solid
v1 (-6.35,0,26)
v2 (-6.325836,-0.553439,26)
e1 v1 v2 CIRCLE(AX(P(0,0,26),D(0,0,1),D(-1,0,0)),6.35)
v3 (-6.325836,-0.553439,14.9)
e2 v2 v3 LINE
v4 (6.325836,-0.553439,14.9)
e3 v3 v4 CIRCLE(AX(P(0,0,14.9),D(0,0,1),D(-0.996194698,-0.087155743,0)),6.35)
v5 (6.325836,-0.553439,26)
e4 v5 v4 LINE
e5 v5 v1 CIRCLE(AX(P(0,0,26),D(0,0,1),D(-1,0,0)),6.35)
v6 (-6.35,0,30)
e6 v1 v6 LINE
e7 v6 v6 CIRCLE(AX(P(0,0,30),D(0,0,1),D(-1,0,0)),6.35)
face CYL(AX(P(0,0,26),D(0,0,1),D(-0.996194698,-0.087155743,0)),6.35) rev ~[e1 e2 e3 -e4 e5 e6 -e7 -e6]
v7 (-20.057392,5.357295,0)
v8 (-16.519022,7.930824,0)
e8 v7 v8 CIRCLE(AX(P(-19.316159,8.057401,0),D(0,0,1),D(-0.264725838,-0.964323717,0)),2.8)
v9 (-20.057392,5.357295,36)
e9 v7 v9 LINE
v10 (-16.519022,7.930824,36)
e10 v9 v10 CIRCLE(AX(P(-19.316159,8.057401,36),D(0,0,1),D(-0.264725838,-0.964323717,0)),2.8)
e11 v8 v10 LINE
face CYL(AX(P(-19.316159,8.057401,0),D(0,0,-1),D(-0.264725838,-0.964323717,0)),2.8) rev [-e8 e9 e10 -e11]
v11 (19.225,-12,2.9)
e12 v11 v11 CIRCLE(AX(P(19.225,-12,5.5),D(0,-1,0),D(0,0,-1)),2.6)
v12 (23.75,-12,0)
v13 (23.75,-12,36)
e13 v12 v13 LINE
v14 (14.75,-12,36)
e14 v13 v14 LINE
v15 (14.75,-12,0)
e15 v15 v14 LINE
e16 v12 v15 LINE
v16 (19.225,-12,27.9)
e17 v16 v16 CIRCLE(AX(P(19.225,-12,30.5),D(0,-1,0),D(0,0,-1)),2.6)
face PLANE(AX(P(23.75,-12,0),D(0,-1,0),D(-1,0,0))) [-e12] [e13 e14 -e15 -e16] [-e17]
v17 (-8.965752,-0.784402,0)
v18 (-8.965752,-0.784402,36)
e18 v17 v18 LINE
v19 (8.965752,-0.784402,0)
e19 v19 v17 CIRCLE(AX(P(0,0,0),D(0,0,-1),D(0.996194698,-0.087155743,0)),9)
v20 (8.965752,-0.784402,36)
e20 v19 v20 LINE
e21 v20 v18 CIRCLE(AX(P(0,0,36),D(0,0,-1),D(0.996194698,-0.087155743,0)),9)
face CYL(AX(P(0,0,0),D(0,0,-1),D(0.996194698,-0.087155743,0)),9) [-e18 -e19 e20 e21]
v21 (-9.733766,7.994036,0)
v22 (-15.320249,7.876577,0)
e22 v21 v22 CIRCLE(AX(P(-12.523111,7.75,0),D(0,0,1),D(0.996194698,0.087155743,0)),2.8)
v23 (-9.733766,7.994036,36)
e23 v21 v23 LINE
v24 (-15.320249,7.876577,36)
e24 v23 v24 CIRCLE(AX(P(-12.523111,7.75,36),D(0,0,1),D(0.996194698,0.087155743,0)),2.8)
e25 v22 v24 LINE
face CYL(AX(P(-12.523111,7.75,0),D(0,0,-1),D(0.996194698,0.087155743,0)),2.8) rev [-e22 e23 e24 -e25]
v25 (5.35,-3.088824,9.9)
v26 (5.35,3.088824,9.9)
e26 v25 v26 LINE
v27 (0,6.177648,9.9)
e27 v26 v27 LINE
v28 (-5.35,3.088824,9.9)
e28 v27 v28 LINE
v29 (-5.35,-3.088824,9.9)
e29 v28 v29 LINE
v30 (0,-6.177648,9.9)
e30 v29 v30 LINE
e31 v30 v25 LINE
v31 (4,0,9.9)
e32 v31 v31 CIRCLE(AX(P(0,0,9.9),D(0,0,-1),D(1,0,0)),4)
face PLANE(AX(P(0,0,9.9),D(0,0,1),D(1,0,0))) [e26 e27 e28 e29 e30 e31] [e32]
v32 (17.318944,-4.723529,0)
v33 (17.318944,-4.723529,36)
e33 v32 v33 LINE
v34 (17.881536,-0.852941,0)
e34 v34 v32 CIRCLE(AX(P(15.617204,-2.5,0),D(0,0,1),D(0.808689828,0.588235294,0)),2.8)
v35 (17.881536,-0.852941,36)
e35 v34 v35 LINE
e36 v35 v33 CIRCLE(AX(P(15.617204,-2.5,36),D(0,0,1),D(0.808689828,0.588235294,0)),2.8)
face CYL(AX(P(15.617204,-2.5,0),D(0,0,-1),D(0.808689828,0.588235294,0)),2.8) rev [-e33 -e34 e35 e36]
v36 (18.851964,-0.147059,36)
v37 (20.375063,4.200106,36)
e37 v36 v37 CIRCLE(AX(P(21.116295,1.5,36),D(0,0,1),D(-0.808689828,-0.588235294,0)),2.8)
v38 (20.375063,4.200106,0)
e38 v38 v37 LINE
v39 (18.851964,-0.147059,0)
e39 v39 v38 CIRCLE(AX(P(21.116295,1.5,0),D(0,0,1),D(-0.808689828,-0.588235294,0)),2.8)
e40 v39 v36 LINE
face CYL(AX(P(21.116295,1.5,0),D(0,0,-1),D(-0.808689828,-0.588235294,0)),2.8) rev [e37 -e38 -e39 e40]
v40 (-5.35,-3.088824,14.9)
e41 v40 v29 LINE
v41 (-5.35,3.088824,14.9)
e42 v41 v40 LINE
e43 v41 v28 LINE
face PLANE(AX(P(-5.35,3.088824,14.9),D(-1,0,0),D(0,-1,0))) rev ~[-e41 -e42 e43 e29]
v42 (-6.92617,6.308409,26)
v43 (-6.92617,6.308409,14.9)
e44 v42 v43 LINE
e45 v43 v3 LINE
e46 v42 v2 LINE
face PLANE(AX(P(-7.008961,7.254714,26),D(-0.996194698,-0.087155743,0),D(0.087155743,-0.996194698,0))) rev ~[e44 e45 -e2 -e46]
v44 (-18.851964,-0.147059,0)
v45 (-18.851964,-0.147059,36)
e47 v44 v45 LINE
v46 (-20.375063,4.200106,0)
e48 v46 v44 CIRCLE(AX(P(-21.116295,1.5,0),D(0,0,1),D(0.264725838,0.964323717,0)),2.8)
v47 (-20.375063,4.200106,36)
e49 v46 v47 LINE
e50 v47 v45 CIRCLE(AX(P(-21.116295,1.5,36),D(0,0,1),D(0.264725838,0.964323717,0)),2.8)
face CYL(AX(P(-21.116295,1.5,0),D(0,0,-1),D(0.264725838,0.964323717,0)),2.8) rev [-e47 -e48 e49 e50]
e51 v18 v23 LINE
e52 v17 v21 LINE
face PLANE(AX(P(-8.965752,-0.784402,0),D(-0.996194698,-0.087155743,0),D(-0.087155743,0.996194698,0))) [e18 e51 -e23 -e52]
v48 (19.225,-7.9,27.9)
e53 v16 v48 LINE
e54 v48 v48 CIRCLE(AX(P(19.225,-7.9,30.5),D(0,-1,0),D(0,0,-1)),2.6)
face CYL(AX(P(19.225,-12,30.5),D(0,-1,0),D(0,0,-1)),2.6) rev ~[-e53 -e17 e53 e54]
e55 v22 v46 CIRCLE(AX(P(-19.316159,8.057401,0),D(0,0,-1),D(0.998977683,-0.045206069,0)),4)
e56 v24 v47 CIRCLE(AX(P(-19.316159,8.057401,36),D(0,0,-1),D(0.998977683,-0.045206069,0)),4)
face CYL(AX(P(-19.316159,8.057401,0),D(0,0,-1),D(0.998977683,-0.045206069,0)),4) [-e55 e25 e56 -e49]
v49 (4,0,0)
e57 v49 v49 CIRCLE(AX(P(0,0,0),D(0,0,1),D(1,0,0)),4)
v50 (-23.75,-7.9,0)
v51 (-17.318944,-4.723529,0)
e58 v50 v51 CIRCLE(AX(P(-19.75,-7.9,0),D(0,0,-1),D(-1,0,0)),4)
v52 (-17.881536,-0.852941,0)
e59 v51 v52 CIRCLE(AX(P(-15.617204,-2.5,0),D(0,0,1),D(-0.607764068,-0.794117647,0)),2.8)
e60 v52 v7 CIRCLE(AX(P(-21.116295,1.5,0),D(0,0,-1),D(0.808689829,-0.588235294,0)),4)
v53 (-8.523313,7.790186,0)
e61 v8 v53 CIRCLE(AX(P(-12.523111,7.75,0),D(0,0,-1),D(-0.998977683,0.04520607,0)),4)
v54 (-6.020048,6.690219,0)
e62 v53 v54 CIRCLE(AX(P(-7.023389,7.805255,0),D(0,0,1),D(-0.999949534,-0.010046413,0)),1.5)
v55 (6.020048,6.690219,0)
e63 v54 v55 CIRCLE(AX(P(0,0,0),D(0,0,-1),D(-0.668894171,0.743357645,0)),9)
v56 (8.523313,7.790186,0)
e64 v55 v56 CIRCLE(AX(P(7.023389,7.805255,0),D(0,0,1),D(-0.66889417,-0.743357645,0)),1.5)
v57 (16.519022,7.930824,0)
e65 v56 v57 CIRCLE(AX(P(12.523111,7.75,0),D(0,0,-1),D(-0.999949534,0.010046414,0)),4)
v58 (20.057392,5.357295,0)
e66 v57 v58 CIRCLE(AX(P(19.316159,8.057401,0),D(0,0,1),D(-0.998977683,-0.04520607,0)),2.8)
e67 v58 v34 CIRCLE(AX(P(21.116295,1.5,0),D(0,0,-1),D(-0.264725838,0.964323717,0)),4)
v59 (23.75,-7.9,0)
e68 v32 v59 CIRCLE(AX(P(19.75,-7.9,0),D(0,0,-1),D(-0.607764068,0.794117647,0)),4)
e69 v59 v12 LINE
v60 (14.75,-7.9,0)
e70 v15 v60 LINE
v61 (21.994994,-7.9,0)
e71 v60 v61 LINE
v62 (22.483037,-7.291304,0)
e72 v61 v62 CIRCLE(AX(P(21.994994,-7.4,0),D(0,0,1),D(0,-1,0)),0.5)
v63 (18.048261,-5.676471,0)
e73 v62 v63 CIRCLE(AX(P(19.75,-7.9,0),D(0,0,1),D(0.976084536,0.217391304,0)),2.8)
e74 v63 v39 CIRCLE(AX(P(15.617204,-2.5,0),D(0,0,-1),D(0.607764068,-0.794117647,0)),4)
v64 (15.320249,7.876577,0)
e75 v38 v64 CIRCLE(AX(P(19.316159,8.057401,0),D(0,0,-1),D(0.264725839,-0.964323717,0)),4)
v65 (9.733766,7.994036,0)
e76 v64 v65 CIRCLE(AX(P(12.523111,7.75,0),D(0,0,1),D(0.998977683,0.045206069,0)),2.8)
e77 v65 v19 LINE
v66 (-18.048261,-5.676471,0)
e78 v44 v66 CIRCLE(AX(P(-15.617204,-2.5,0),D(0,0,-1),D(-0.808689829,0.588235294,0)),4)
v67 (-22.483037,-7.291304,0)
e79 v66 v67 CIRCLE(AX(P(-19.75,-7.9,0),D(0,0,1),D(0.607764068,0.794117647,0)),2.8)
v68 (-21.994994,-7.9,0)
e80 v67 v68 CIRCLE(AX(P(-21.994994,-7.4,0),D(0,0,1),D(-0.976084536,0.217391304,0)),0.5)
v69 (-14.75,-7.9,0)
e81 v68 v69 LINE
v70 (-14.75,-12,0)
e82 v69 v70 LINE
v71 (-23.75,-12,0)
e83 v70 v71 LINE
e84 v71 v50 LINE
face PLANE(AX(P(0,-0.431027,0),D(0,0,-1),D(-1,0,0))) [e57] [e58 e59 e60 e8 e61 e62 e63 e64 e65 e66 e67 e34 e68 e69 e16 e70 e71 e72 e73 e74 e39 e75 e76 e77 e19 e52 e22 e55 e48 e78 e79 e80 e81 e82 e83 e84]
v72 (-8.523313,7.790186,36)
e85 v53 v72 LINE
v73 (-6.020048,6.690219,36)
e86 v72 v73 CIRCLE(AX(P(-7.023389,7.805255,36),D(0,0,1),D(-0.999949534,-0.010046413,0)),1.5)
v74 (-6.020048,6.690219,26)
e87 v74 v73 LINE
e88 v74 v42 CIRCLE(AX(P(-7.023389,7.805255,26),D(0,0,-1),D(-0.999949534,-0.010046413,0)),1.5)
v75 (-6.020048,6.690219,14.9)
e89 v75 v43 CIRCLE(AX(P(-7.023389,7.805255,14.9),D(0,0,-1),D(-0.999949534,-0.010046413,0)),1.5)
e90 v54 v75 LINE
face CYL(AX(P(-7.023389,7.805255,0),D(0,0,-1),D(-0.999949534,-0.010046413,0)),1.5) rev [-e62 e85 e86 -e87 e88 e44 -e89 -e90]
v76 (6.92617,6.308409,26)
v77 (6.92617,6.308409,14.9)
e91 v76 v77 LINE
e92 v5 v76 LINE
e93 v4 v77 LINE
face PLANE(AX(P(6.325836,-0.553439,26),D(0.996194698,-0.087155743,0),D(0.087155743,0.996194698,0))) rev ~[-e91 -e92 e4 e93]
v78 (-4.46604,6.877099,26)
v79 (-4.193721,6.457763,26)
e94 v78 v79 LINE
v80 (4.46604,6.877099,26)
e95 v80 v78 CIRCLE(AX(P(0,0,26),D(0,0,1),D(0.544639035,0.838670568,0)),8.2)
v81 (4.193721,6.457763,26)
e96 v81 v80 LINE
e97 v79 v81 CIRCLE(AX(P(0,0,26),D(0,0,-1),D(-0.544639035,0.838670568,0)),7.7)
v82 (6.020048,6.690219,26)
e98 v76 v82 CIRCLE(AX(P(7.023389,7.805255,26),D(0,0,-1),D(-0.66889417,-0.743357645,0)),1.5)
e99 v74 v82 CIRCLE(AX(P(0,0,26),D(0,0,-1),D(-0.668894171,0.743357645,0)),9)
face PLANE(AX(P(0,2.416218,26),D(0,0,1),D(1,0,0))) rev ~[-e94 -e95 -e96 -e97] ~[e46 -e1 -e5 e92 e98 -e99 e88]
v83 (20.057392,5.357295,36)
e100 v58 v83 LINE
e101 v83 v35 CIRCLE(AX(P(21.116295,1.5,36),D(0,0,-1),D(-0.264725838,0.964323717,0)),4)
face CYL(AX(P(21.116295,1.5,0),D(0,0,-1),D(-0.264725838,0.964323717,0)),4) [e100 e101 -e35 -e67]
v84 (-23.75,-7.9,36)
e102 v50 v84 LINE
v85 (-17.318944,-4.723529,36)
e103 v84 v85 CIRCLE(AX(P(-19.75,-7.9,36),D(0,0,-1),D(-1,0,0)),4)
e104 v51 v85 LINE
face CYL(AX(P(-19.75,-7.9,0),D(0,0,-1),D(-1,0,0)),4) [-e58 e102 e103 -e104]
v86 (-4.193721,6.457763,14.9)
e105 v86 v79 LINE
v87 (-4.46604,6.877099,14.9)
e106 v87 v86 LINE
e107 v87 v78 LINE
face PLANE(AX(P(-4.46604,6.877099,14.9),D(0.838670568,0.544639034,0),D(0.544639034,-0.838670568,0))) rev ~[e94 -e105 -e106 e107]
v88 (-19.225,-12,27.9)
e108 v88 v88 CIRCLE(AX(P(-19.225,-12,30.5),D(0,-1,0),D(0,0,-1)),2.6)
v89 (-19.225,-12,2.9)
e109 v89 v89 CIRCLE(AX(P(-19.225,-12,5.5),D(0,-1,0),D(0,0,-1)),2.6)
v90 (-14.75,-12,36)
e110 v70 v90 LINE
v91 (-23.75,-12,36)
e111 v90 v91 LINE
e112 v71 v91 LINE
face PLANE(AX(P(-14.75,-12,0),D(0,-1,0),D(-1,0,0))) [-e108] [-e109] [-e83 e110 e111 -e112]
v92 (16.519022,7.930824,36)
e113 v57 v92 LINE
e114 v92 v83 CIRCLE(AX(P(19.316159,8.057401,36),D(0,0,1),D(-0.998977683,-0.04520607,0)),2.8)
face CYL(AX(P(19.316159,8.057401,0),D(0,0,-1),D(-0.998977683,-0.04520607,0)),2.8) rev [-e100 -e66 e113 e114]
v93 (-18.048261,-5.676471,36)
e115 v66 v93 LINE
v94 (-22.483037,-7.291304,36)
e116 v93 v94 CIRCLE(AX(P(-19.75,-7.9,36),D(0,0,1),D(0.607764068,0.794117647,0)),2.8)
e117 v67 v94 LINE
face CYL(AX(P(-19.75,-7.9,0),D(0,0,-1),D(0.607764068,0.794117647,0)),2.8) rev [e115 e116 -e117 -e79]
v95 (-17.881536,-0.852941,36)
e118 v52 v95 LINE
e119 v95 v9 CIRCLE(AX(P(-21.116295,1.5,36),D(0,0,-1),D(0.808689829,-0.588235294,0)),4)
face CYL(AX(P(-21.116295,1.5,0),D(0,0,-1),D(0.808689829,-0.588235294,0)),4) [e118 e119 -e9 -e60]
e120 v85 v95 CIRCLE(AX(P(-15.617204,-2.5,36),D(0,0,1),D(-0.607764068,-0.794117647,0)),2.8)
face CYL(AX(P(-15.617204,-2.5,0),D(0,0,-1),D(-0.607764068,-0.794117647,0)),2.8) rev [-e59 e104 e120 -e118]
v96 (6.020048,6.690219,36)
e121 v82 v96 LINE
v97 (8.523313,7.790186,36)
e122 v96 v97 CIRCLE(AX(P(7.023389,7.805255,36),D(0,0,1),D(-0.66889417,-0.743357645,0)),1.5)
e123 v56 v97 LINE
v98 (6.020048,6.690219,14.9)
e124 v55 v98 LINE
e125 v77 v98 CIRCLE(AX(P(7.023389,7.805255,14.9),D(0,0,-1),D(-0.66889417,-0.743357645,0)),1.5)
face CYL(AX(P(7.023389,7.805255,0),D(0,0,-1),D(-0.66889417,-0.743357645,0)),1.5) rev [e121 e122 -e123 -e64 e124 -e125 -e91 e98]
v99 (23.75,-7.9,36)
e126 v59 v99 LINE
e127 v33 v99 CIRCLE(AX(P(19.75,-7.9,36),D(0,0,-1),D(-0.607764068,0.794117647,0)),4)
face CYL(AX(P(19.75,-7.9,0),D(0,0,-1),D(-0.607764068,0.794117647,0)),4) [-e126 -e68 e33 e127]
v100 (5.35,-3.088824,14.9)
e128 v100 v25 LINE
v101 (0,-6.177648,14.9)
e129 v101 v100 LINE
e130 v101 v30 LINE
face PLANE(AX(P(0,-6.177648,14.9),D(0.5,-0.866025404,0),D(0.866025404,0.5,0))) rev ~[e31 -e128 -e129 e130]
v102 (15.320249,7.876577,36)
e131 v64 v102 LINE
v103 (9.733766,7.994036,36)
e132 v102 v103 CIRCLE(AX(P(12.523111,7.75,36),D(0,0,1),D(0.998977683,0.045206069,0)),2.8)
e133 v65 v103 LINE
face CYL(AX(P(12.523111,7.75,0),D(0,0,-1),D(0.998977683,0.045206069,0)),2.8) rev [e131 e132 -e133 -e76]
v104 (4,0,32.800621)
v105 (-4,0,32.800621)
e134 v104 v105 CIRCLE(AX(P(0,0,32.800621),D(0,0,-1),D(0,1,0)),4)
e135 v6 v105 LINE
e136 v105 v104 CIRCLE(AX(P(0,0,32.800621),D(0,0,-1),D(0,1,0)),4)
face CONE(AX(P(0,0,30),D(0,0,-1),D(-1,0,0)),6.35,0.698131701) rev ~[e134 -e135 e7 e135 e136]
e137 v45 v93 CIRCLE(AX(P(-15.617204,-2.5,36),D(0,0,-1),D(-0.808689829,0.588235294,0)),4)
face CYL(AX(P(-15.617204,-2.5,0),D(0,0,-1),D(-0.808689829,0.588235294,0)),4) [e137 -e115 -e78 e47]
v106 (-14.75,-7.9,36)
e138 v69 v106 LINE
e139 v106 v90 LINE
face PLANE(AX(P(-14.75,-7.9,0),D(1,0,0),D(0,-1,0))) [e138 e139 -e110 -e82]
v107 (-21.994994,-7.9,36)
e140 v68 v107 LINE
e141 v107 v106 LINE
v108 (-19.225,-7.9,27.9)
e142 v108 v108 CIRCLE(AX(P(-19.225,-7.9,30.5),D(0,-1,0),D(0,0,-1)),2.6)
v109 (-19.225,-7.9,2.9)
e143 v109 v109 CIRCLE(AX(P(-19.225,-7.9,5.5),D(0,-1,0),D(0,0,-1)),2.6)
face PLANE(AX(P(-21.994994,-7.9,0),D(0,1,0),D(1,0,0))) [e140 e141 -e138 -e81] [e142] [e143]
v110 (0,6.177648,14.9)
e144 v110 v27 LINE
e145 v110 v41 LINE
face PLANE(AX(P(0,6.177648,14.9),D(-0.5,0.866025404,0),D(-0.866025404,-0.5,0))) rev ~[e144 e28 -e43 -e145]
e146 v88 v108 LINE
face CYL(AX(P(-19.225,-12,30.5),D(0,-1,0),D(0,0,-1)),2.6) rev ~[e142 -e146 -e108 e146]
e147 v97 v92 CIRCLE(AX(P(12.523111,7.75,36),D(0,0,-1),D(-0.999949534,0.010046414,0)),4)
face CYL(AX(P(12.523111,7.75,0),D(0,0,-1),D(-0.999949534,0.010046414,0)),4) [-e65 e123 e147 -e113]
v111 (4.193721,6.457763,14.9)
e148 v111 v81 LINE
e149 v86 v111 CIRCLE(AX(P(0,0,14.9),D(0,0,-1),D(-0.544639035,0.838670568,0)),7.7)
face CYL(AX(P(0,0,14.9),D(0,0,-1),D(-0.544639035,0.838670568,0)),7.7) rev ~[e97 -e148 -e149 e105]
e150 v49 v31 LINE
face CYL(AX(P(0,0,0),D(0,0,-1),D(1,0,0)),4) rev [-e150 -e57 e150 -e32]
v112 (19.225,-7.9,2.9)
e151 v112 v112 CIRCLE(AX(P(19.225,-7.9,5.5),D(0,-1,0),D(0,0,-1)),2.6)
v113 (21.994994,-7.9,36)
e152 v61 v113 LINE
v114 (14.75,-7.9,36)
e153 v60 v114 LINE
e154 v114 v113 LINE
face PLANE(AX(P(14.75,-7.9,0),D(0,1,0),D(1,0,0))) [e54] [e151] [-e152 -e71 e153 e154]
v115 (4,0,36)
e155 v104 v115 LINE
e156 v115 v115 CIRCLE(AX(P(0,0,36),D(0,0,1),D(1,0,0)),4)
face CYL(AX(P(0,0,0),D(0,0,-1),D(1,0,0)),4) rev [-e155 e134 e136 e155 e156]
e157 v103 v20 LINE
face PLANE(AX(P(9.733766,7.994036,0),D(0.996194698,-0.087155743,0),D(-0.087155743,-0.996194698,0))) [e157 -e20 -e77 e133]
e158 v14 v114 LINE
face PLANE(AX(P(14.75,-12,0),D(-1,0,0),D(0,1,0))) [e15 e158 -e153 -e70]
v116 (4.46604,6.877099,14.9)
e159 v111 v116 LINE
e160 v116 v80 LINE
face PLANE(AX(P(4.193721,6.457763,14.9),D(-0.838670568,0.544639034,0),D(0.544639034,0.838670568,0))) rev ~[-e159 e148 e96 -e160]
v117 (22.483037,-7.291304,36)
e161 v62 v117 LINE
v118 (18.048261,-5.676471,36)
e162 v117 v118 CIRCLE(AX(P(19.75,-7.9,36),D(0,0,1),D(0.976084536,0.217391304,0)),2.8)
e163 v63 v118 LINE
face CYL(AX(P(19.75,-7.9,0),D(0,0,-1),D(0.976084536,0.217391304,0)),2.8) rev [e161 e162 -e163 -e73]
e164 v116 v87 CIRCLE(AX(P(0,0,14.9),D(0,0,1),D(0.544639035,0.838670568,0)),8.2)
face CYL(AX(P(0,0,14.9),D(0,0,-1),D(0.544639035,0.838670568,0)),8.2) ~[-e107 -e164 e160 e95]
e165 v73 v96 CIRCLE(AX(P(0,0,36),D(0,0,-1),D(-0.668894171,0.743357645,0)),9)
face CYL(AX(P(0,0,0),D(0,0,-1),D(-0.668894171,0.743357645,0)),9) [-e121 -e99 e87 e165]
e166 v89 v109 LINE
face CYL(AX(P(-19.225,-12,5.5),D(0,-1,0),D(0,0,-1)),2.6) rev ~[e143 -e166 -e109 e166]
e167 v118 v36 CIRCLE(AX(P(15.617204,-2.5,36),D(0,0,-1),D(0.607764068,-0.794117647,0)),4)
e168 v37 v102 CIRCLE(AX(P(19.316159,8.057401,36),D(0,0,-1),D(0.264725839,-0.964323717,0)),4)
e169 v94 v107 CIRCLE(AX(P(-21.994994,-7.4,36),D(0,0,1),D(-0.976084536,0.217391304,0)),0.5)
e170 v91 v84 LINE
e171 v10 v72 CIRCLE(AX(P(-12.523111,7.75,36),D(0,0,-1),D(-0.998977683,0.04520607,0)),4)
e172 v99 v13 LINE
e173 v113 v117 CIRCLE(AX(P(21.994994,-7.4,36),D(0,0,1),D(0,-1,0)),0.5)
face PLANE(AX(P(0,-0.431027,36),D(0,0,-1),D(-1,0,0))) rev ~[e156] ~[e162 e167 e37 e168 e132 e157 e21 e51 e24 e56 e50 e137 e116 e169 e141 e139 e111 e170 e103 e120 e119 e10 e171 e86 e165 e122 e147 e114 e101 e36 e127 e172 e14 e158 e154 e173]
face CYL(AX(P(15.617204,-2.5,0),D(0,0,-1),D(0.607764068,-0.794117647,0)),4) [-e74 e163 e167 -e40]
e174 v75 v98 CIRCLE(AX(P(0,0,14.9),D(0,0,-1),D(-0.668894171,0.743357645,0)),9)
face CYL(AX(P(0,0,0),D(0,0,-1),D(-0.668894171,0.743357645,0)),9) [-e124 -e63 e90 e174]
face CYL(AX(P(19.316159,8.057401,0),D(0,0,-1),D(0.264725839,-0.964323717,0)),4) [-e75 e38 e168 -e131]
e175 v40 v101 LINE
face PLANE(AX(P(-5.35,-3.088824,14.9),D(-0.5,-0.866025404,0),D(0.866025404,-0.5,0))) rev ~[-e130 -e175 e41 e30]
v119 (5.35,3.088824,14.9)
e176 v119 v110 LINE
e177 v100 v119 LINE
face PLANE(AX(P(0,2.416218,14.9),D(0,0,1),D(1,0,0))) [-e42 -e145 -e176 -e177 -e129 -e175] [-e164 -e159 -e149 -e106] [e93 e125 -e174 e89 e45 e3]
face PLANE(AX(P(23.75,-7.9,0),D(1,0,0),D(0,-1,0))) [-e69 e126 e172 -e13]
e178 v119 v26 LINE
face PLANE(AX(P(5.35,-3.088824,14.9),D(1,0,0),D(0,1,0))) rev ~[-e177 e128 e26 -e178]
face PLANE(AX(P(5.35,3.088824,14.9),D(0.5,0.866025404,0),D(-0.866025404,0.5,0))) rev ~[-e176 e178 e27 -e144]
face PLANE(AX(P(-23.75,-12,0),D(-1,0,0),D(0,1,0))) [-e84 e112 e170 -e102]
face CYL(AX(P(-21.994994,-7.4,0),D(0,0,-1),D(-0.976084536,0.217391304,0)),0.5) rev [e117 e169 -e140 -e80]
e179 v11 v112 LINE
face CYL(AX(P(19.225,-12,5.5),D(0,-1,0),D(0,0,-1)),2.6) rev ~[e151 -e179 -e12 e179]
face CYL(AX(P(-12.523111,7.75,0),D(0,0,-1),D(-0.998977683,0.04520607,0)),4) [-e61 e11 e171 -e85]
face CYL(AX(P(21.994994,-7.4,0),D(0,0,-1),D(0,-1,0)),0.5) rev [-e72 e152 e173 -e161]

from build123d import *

# Parameters (mm, degrees)
SKETCH1_R           = 4
BOSS_EXTRUDE1_DEPTH = 36
SKETCH2_R           = 2.6
CUT_EXTRUDE1_DEPTH  = 4.2
CUT_EXTRUDE2_START  = -10
CUT_EXTRUDE2_DEPTH  = 11.1
CUT_EXTRUDE3_DEPTH  = 5
BOSS_EXTRUDE2_DEPTH = 11.1


with BuildPart() as part:
    # Sketch1 → Boss-Extrude1 (new body)
    with BuildSketch(Plane.XY):
        with BuildLine():
            Line((-14.75, -7.9), (-14.75, -12))
            Line((-14.75, -12), (-23.75, -12))
            Line((-23.75, -12), (-23.75, -7.9))
            ThreePointArc((-23.75, -7.9), (-21.521408325, -4.313621249), (-17.318943727, -4.723529412))
            ThreePointArc((-17.318943727, -4.723529412), (-12.846321275, -2.097250623), (-17.881535856, -0.852941176))
            ThreePointArc((-17.881535856, -0.852941176), (-24.891297515, 0.177367286), (-20.057391817, 5.357294867))
            ThreePointArc((-20.057391817, 5.357294867), (-17.669207765, 5.792991841), (-16.519021958, 7.930824279))
            ThreePointArc((-16.519021958, 7.930824279), (-12.452765055, 11.749381379), (-8.523313091, 7.790185654))
            ThreePointArc((-8.523313091, 7.790185654), (-7.626821013, 6.431985616), (-6.020047535, 6.690218806))
            ThreePointArc((-6.020047535, 6.690218806), (0, 9), (6.020047535, 6.690218806))
            ThreePointArc((6.020047535, 6.690218806), (7.626821013, 6.431985616), (8.523313091, 7.790185654))
            ThreePointArc((8.523313091, 7.790185654), (12.452765055, 11.749381379), (16.519021958, 7.930824279))
            ThreePointArc((16.519021958, 7.930824279), (17.669207765, 5.792991841), (20.057391817, 5.357294867))
            ThreePointArc((20.057391817, 5.357294867), (24.891297515, 0.177367286), (17.881535856, -0.852941176))
            ThreePointArc((17.881535856, -0.852941176), (12.846321275, -2.097250623), (17.318943727, -4.723529412))
            ThreePointArc((17.318943727, -4.723529412), (21.521408325, -4.313621249), (23.75, -7.9))
            Line((23.75, -7.9), (23.75, -12))
            Line((23.75, -12), (14.75, -12))
            Line((14.75, -12), (14.75, -7.9))
            Line((14.75, -7.9), (21.994994432, -7.9))
            ThreePointArc((21.994994432, -7.9), (22.385089181, -7.712771621), (22.4830367, -7.291304348))
            ThreePointArc((22.4830367, -7.291304348), (20.708026906, -5.268995544), (18.048260609, -5.676470588))
            ThreePointArc((18.048260609, -5.676470588), (11.658799963, -1.924643747), (18.85196365, -0.147058824))
            ThreePointArc((18.85196365, -0.147058824), (23.758796811, 0.5741571), (20.375062823, 4.200106407))
            ThreePointArc((20.375062823, 4.200106407), (16.963371319, 4.822530655), (15.320248738, 7.876576995))
            ThreePointArc((15.320248738, 7.876576995), (12.581969864, 10.5493813), (9.733766071, 7.99403608))
            Line((9.733766071, 7.99403608), (8.965752283, -0.784401685))
            ThreePointArc((8.965752283, -0.784401685), (0, -9), (-8.965752283, -0.784401685))
            Line((-8.965752283, -0.784401685), (-9.733766071, 7.99403608))
            ThreePointArc((-9.733766071, 7.99403608), (-12.581969864, 10.5493813), (-15.320248738, 7.876576995))
            ThreePointArc((-15.320248738, 7.876576995), (-16.963371319, 4.822530655), (-20.375062823, 4.200106407))
            ThreePointArc((-20.375062823, 4.200106407), (-23.758796811, 0.5741571), (-18.85196365, -0.147058824))
            ThreePointArc((-18.85196365, -0.147058824), (-11.658799963, -1.924643747), (-18.048260609, -5.676470588))
            ThreePointArc((-18.048260609, -5.676470588), (-20.708026906, -5.268995544), (-22.4830367, -7.291304348))
            ThreePointArc((-22.4830367, -7.291304348), (-22.385089181, -7.712771621), (-21.994994432, -7.9))
            Line((-21.994994432, -7.9), (-14.75, -7.9))
        make_face()
        Circle(SKETCH1_R, mode=Mode.SUBTRACT)
    extrude(amount=BOSS_EXTRUDE1_DEPTH)

    # Sketch2 → Cut-Extrude1 (cut)
    with BuildSketch(Plane.XZ.offset(12)):
        with Locations(Location((-19.225, 30.5, 0), (0, 0, 270))):  # turned: the seam where the file's is
            Circle(SKETCH2_R)
        with Locations(Location((-19.225, 5.5, 0), (0, 0, 270))):  # turned: the seam where the file's is
            Circle(SKETCH2_R)
        with Locations(Location((19.225, 5.5, 0), (0, 0, 270))):  # turned: the seam where the file's is
            Circle(SKETCH2_R)
        with Locations(Location((19.225, 30.5, 0), (0, 0, 270))):  # turned: the seam where the file's is
            Circle(SKETCH2_R)
    extrude(amount=-CUT_EXTRUDE1_DEPTH, mode=Mode.SUBTRACT)

    # Sketch3 → Cut-Extrude2 (cut)
    with BuildSketch(Plane.XY.offset(36).offset(CUT_EXTRUDE2_START)):
        with BuildLine():
            Line((-7.008961202, 7.254714015), (-6.325836333, -0.553438966))
            ThreePointArc((-6.325836333, -0.553438966), (0, -6.35), (6.325836333, -0.553438966))
            Line((6.325836333, -0.553438966), (7.008961202, 7.254714015))
            ThreePointArc((7.008961202, 7.254714015), (0, 10.087438355), (-7.008961202, 7.254714015))
        make_face()
    extrude(amount=-CUT_EXTRUDE2_DEPTH, mode=Mode.SUBTRACT)

    # Sketch4 → Cut-Revolve1 (revolve, cut)
    with BuildSketch(Plane(origin=(0, 0, 0), x_dir=(1, 0, 0), z_dir=(0, 1, 0))):
        Polygon((0, -14.9), (-6.35, -14.9), (-6.35, -30), (-1.273774508, -36.049609967), (0, -36.049609967), align=None)
    revolve(axis=Axis((0, 0, 14.9), (0, 0, 1)), mode=Mode.SUBTRACT)

    # Sketch5 → Cut-Extrude3 (cut)
    with BuildSketch(Plane.XY.offset(14.9)):
        Polygon((5.35, -3.08882394), (5.35, 3.08882394), (0, 6.17764788), (-5.35, 3.08882394), (-5.35, -3.08882394), (0, -6.17764788), align=None)
    extrude(amount=-CUT_EXTRUDE3_DEPTH, mode=Mode.SUBTRACT)

    # Sketch6 → Boss-Extrude2 (add)
    with BuildSketch(Plane.XY.offset(14.9)):
        with BuildLine():
            Line((-4.466040087, 6.877098657), (-4.19372057, 6.457763373))
            ThreePointArc((-4.19372057, 6.457763373), (0, 7.7), (4.19372057, 6.457763373))
            Line((4.19372057, 6.457763373), (4.466040087, 6.877098657))
            ThreePointArc((4.466040087, 6.877098657), (0, 8.2), (-4.466040087, 6.877098657))
        make_face()
    extrude(amount=BOSS_EXTRUDE2_DEPTH)


solid = part.part
